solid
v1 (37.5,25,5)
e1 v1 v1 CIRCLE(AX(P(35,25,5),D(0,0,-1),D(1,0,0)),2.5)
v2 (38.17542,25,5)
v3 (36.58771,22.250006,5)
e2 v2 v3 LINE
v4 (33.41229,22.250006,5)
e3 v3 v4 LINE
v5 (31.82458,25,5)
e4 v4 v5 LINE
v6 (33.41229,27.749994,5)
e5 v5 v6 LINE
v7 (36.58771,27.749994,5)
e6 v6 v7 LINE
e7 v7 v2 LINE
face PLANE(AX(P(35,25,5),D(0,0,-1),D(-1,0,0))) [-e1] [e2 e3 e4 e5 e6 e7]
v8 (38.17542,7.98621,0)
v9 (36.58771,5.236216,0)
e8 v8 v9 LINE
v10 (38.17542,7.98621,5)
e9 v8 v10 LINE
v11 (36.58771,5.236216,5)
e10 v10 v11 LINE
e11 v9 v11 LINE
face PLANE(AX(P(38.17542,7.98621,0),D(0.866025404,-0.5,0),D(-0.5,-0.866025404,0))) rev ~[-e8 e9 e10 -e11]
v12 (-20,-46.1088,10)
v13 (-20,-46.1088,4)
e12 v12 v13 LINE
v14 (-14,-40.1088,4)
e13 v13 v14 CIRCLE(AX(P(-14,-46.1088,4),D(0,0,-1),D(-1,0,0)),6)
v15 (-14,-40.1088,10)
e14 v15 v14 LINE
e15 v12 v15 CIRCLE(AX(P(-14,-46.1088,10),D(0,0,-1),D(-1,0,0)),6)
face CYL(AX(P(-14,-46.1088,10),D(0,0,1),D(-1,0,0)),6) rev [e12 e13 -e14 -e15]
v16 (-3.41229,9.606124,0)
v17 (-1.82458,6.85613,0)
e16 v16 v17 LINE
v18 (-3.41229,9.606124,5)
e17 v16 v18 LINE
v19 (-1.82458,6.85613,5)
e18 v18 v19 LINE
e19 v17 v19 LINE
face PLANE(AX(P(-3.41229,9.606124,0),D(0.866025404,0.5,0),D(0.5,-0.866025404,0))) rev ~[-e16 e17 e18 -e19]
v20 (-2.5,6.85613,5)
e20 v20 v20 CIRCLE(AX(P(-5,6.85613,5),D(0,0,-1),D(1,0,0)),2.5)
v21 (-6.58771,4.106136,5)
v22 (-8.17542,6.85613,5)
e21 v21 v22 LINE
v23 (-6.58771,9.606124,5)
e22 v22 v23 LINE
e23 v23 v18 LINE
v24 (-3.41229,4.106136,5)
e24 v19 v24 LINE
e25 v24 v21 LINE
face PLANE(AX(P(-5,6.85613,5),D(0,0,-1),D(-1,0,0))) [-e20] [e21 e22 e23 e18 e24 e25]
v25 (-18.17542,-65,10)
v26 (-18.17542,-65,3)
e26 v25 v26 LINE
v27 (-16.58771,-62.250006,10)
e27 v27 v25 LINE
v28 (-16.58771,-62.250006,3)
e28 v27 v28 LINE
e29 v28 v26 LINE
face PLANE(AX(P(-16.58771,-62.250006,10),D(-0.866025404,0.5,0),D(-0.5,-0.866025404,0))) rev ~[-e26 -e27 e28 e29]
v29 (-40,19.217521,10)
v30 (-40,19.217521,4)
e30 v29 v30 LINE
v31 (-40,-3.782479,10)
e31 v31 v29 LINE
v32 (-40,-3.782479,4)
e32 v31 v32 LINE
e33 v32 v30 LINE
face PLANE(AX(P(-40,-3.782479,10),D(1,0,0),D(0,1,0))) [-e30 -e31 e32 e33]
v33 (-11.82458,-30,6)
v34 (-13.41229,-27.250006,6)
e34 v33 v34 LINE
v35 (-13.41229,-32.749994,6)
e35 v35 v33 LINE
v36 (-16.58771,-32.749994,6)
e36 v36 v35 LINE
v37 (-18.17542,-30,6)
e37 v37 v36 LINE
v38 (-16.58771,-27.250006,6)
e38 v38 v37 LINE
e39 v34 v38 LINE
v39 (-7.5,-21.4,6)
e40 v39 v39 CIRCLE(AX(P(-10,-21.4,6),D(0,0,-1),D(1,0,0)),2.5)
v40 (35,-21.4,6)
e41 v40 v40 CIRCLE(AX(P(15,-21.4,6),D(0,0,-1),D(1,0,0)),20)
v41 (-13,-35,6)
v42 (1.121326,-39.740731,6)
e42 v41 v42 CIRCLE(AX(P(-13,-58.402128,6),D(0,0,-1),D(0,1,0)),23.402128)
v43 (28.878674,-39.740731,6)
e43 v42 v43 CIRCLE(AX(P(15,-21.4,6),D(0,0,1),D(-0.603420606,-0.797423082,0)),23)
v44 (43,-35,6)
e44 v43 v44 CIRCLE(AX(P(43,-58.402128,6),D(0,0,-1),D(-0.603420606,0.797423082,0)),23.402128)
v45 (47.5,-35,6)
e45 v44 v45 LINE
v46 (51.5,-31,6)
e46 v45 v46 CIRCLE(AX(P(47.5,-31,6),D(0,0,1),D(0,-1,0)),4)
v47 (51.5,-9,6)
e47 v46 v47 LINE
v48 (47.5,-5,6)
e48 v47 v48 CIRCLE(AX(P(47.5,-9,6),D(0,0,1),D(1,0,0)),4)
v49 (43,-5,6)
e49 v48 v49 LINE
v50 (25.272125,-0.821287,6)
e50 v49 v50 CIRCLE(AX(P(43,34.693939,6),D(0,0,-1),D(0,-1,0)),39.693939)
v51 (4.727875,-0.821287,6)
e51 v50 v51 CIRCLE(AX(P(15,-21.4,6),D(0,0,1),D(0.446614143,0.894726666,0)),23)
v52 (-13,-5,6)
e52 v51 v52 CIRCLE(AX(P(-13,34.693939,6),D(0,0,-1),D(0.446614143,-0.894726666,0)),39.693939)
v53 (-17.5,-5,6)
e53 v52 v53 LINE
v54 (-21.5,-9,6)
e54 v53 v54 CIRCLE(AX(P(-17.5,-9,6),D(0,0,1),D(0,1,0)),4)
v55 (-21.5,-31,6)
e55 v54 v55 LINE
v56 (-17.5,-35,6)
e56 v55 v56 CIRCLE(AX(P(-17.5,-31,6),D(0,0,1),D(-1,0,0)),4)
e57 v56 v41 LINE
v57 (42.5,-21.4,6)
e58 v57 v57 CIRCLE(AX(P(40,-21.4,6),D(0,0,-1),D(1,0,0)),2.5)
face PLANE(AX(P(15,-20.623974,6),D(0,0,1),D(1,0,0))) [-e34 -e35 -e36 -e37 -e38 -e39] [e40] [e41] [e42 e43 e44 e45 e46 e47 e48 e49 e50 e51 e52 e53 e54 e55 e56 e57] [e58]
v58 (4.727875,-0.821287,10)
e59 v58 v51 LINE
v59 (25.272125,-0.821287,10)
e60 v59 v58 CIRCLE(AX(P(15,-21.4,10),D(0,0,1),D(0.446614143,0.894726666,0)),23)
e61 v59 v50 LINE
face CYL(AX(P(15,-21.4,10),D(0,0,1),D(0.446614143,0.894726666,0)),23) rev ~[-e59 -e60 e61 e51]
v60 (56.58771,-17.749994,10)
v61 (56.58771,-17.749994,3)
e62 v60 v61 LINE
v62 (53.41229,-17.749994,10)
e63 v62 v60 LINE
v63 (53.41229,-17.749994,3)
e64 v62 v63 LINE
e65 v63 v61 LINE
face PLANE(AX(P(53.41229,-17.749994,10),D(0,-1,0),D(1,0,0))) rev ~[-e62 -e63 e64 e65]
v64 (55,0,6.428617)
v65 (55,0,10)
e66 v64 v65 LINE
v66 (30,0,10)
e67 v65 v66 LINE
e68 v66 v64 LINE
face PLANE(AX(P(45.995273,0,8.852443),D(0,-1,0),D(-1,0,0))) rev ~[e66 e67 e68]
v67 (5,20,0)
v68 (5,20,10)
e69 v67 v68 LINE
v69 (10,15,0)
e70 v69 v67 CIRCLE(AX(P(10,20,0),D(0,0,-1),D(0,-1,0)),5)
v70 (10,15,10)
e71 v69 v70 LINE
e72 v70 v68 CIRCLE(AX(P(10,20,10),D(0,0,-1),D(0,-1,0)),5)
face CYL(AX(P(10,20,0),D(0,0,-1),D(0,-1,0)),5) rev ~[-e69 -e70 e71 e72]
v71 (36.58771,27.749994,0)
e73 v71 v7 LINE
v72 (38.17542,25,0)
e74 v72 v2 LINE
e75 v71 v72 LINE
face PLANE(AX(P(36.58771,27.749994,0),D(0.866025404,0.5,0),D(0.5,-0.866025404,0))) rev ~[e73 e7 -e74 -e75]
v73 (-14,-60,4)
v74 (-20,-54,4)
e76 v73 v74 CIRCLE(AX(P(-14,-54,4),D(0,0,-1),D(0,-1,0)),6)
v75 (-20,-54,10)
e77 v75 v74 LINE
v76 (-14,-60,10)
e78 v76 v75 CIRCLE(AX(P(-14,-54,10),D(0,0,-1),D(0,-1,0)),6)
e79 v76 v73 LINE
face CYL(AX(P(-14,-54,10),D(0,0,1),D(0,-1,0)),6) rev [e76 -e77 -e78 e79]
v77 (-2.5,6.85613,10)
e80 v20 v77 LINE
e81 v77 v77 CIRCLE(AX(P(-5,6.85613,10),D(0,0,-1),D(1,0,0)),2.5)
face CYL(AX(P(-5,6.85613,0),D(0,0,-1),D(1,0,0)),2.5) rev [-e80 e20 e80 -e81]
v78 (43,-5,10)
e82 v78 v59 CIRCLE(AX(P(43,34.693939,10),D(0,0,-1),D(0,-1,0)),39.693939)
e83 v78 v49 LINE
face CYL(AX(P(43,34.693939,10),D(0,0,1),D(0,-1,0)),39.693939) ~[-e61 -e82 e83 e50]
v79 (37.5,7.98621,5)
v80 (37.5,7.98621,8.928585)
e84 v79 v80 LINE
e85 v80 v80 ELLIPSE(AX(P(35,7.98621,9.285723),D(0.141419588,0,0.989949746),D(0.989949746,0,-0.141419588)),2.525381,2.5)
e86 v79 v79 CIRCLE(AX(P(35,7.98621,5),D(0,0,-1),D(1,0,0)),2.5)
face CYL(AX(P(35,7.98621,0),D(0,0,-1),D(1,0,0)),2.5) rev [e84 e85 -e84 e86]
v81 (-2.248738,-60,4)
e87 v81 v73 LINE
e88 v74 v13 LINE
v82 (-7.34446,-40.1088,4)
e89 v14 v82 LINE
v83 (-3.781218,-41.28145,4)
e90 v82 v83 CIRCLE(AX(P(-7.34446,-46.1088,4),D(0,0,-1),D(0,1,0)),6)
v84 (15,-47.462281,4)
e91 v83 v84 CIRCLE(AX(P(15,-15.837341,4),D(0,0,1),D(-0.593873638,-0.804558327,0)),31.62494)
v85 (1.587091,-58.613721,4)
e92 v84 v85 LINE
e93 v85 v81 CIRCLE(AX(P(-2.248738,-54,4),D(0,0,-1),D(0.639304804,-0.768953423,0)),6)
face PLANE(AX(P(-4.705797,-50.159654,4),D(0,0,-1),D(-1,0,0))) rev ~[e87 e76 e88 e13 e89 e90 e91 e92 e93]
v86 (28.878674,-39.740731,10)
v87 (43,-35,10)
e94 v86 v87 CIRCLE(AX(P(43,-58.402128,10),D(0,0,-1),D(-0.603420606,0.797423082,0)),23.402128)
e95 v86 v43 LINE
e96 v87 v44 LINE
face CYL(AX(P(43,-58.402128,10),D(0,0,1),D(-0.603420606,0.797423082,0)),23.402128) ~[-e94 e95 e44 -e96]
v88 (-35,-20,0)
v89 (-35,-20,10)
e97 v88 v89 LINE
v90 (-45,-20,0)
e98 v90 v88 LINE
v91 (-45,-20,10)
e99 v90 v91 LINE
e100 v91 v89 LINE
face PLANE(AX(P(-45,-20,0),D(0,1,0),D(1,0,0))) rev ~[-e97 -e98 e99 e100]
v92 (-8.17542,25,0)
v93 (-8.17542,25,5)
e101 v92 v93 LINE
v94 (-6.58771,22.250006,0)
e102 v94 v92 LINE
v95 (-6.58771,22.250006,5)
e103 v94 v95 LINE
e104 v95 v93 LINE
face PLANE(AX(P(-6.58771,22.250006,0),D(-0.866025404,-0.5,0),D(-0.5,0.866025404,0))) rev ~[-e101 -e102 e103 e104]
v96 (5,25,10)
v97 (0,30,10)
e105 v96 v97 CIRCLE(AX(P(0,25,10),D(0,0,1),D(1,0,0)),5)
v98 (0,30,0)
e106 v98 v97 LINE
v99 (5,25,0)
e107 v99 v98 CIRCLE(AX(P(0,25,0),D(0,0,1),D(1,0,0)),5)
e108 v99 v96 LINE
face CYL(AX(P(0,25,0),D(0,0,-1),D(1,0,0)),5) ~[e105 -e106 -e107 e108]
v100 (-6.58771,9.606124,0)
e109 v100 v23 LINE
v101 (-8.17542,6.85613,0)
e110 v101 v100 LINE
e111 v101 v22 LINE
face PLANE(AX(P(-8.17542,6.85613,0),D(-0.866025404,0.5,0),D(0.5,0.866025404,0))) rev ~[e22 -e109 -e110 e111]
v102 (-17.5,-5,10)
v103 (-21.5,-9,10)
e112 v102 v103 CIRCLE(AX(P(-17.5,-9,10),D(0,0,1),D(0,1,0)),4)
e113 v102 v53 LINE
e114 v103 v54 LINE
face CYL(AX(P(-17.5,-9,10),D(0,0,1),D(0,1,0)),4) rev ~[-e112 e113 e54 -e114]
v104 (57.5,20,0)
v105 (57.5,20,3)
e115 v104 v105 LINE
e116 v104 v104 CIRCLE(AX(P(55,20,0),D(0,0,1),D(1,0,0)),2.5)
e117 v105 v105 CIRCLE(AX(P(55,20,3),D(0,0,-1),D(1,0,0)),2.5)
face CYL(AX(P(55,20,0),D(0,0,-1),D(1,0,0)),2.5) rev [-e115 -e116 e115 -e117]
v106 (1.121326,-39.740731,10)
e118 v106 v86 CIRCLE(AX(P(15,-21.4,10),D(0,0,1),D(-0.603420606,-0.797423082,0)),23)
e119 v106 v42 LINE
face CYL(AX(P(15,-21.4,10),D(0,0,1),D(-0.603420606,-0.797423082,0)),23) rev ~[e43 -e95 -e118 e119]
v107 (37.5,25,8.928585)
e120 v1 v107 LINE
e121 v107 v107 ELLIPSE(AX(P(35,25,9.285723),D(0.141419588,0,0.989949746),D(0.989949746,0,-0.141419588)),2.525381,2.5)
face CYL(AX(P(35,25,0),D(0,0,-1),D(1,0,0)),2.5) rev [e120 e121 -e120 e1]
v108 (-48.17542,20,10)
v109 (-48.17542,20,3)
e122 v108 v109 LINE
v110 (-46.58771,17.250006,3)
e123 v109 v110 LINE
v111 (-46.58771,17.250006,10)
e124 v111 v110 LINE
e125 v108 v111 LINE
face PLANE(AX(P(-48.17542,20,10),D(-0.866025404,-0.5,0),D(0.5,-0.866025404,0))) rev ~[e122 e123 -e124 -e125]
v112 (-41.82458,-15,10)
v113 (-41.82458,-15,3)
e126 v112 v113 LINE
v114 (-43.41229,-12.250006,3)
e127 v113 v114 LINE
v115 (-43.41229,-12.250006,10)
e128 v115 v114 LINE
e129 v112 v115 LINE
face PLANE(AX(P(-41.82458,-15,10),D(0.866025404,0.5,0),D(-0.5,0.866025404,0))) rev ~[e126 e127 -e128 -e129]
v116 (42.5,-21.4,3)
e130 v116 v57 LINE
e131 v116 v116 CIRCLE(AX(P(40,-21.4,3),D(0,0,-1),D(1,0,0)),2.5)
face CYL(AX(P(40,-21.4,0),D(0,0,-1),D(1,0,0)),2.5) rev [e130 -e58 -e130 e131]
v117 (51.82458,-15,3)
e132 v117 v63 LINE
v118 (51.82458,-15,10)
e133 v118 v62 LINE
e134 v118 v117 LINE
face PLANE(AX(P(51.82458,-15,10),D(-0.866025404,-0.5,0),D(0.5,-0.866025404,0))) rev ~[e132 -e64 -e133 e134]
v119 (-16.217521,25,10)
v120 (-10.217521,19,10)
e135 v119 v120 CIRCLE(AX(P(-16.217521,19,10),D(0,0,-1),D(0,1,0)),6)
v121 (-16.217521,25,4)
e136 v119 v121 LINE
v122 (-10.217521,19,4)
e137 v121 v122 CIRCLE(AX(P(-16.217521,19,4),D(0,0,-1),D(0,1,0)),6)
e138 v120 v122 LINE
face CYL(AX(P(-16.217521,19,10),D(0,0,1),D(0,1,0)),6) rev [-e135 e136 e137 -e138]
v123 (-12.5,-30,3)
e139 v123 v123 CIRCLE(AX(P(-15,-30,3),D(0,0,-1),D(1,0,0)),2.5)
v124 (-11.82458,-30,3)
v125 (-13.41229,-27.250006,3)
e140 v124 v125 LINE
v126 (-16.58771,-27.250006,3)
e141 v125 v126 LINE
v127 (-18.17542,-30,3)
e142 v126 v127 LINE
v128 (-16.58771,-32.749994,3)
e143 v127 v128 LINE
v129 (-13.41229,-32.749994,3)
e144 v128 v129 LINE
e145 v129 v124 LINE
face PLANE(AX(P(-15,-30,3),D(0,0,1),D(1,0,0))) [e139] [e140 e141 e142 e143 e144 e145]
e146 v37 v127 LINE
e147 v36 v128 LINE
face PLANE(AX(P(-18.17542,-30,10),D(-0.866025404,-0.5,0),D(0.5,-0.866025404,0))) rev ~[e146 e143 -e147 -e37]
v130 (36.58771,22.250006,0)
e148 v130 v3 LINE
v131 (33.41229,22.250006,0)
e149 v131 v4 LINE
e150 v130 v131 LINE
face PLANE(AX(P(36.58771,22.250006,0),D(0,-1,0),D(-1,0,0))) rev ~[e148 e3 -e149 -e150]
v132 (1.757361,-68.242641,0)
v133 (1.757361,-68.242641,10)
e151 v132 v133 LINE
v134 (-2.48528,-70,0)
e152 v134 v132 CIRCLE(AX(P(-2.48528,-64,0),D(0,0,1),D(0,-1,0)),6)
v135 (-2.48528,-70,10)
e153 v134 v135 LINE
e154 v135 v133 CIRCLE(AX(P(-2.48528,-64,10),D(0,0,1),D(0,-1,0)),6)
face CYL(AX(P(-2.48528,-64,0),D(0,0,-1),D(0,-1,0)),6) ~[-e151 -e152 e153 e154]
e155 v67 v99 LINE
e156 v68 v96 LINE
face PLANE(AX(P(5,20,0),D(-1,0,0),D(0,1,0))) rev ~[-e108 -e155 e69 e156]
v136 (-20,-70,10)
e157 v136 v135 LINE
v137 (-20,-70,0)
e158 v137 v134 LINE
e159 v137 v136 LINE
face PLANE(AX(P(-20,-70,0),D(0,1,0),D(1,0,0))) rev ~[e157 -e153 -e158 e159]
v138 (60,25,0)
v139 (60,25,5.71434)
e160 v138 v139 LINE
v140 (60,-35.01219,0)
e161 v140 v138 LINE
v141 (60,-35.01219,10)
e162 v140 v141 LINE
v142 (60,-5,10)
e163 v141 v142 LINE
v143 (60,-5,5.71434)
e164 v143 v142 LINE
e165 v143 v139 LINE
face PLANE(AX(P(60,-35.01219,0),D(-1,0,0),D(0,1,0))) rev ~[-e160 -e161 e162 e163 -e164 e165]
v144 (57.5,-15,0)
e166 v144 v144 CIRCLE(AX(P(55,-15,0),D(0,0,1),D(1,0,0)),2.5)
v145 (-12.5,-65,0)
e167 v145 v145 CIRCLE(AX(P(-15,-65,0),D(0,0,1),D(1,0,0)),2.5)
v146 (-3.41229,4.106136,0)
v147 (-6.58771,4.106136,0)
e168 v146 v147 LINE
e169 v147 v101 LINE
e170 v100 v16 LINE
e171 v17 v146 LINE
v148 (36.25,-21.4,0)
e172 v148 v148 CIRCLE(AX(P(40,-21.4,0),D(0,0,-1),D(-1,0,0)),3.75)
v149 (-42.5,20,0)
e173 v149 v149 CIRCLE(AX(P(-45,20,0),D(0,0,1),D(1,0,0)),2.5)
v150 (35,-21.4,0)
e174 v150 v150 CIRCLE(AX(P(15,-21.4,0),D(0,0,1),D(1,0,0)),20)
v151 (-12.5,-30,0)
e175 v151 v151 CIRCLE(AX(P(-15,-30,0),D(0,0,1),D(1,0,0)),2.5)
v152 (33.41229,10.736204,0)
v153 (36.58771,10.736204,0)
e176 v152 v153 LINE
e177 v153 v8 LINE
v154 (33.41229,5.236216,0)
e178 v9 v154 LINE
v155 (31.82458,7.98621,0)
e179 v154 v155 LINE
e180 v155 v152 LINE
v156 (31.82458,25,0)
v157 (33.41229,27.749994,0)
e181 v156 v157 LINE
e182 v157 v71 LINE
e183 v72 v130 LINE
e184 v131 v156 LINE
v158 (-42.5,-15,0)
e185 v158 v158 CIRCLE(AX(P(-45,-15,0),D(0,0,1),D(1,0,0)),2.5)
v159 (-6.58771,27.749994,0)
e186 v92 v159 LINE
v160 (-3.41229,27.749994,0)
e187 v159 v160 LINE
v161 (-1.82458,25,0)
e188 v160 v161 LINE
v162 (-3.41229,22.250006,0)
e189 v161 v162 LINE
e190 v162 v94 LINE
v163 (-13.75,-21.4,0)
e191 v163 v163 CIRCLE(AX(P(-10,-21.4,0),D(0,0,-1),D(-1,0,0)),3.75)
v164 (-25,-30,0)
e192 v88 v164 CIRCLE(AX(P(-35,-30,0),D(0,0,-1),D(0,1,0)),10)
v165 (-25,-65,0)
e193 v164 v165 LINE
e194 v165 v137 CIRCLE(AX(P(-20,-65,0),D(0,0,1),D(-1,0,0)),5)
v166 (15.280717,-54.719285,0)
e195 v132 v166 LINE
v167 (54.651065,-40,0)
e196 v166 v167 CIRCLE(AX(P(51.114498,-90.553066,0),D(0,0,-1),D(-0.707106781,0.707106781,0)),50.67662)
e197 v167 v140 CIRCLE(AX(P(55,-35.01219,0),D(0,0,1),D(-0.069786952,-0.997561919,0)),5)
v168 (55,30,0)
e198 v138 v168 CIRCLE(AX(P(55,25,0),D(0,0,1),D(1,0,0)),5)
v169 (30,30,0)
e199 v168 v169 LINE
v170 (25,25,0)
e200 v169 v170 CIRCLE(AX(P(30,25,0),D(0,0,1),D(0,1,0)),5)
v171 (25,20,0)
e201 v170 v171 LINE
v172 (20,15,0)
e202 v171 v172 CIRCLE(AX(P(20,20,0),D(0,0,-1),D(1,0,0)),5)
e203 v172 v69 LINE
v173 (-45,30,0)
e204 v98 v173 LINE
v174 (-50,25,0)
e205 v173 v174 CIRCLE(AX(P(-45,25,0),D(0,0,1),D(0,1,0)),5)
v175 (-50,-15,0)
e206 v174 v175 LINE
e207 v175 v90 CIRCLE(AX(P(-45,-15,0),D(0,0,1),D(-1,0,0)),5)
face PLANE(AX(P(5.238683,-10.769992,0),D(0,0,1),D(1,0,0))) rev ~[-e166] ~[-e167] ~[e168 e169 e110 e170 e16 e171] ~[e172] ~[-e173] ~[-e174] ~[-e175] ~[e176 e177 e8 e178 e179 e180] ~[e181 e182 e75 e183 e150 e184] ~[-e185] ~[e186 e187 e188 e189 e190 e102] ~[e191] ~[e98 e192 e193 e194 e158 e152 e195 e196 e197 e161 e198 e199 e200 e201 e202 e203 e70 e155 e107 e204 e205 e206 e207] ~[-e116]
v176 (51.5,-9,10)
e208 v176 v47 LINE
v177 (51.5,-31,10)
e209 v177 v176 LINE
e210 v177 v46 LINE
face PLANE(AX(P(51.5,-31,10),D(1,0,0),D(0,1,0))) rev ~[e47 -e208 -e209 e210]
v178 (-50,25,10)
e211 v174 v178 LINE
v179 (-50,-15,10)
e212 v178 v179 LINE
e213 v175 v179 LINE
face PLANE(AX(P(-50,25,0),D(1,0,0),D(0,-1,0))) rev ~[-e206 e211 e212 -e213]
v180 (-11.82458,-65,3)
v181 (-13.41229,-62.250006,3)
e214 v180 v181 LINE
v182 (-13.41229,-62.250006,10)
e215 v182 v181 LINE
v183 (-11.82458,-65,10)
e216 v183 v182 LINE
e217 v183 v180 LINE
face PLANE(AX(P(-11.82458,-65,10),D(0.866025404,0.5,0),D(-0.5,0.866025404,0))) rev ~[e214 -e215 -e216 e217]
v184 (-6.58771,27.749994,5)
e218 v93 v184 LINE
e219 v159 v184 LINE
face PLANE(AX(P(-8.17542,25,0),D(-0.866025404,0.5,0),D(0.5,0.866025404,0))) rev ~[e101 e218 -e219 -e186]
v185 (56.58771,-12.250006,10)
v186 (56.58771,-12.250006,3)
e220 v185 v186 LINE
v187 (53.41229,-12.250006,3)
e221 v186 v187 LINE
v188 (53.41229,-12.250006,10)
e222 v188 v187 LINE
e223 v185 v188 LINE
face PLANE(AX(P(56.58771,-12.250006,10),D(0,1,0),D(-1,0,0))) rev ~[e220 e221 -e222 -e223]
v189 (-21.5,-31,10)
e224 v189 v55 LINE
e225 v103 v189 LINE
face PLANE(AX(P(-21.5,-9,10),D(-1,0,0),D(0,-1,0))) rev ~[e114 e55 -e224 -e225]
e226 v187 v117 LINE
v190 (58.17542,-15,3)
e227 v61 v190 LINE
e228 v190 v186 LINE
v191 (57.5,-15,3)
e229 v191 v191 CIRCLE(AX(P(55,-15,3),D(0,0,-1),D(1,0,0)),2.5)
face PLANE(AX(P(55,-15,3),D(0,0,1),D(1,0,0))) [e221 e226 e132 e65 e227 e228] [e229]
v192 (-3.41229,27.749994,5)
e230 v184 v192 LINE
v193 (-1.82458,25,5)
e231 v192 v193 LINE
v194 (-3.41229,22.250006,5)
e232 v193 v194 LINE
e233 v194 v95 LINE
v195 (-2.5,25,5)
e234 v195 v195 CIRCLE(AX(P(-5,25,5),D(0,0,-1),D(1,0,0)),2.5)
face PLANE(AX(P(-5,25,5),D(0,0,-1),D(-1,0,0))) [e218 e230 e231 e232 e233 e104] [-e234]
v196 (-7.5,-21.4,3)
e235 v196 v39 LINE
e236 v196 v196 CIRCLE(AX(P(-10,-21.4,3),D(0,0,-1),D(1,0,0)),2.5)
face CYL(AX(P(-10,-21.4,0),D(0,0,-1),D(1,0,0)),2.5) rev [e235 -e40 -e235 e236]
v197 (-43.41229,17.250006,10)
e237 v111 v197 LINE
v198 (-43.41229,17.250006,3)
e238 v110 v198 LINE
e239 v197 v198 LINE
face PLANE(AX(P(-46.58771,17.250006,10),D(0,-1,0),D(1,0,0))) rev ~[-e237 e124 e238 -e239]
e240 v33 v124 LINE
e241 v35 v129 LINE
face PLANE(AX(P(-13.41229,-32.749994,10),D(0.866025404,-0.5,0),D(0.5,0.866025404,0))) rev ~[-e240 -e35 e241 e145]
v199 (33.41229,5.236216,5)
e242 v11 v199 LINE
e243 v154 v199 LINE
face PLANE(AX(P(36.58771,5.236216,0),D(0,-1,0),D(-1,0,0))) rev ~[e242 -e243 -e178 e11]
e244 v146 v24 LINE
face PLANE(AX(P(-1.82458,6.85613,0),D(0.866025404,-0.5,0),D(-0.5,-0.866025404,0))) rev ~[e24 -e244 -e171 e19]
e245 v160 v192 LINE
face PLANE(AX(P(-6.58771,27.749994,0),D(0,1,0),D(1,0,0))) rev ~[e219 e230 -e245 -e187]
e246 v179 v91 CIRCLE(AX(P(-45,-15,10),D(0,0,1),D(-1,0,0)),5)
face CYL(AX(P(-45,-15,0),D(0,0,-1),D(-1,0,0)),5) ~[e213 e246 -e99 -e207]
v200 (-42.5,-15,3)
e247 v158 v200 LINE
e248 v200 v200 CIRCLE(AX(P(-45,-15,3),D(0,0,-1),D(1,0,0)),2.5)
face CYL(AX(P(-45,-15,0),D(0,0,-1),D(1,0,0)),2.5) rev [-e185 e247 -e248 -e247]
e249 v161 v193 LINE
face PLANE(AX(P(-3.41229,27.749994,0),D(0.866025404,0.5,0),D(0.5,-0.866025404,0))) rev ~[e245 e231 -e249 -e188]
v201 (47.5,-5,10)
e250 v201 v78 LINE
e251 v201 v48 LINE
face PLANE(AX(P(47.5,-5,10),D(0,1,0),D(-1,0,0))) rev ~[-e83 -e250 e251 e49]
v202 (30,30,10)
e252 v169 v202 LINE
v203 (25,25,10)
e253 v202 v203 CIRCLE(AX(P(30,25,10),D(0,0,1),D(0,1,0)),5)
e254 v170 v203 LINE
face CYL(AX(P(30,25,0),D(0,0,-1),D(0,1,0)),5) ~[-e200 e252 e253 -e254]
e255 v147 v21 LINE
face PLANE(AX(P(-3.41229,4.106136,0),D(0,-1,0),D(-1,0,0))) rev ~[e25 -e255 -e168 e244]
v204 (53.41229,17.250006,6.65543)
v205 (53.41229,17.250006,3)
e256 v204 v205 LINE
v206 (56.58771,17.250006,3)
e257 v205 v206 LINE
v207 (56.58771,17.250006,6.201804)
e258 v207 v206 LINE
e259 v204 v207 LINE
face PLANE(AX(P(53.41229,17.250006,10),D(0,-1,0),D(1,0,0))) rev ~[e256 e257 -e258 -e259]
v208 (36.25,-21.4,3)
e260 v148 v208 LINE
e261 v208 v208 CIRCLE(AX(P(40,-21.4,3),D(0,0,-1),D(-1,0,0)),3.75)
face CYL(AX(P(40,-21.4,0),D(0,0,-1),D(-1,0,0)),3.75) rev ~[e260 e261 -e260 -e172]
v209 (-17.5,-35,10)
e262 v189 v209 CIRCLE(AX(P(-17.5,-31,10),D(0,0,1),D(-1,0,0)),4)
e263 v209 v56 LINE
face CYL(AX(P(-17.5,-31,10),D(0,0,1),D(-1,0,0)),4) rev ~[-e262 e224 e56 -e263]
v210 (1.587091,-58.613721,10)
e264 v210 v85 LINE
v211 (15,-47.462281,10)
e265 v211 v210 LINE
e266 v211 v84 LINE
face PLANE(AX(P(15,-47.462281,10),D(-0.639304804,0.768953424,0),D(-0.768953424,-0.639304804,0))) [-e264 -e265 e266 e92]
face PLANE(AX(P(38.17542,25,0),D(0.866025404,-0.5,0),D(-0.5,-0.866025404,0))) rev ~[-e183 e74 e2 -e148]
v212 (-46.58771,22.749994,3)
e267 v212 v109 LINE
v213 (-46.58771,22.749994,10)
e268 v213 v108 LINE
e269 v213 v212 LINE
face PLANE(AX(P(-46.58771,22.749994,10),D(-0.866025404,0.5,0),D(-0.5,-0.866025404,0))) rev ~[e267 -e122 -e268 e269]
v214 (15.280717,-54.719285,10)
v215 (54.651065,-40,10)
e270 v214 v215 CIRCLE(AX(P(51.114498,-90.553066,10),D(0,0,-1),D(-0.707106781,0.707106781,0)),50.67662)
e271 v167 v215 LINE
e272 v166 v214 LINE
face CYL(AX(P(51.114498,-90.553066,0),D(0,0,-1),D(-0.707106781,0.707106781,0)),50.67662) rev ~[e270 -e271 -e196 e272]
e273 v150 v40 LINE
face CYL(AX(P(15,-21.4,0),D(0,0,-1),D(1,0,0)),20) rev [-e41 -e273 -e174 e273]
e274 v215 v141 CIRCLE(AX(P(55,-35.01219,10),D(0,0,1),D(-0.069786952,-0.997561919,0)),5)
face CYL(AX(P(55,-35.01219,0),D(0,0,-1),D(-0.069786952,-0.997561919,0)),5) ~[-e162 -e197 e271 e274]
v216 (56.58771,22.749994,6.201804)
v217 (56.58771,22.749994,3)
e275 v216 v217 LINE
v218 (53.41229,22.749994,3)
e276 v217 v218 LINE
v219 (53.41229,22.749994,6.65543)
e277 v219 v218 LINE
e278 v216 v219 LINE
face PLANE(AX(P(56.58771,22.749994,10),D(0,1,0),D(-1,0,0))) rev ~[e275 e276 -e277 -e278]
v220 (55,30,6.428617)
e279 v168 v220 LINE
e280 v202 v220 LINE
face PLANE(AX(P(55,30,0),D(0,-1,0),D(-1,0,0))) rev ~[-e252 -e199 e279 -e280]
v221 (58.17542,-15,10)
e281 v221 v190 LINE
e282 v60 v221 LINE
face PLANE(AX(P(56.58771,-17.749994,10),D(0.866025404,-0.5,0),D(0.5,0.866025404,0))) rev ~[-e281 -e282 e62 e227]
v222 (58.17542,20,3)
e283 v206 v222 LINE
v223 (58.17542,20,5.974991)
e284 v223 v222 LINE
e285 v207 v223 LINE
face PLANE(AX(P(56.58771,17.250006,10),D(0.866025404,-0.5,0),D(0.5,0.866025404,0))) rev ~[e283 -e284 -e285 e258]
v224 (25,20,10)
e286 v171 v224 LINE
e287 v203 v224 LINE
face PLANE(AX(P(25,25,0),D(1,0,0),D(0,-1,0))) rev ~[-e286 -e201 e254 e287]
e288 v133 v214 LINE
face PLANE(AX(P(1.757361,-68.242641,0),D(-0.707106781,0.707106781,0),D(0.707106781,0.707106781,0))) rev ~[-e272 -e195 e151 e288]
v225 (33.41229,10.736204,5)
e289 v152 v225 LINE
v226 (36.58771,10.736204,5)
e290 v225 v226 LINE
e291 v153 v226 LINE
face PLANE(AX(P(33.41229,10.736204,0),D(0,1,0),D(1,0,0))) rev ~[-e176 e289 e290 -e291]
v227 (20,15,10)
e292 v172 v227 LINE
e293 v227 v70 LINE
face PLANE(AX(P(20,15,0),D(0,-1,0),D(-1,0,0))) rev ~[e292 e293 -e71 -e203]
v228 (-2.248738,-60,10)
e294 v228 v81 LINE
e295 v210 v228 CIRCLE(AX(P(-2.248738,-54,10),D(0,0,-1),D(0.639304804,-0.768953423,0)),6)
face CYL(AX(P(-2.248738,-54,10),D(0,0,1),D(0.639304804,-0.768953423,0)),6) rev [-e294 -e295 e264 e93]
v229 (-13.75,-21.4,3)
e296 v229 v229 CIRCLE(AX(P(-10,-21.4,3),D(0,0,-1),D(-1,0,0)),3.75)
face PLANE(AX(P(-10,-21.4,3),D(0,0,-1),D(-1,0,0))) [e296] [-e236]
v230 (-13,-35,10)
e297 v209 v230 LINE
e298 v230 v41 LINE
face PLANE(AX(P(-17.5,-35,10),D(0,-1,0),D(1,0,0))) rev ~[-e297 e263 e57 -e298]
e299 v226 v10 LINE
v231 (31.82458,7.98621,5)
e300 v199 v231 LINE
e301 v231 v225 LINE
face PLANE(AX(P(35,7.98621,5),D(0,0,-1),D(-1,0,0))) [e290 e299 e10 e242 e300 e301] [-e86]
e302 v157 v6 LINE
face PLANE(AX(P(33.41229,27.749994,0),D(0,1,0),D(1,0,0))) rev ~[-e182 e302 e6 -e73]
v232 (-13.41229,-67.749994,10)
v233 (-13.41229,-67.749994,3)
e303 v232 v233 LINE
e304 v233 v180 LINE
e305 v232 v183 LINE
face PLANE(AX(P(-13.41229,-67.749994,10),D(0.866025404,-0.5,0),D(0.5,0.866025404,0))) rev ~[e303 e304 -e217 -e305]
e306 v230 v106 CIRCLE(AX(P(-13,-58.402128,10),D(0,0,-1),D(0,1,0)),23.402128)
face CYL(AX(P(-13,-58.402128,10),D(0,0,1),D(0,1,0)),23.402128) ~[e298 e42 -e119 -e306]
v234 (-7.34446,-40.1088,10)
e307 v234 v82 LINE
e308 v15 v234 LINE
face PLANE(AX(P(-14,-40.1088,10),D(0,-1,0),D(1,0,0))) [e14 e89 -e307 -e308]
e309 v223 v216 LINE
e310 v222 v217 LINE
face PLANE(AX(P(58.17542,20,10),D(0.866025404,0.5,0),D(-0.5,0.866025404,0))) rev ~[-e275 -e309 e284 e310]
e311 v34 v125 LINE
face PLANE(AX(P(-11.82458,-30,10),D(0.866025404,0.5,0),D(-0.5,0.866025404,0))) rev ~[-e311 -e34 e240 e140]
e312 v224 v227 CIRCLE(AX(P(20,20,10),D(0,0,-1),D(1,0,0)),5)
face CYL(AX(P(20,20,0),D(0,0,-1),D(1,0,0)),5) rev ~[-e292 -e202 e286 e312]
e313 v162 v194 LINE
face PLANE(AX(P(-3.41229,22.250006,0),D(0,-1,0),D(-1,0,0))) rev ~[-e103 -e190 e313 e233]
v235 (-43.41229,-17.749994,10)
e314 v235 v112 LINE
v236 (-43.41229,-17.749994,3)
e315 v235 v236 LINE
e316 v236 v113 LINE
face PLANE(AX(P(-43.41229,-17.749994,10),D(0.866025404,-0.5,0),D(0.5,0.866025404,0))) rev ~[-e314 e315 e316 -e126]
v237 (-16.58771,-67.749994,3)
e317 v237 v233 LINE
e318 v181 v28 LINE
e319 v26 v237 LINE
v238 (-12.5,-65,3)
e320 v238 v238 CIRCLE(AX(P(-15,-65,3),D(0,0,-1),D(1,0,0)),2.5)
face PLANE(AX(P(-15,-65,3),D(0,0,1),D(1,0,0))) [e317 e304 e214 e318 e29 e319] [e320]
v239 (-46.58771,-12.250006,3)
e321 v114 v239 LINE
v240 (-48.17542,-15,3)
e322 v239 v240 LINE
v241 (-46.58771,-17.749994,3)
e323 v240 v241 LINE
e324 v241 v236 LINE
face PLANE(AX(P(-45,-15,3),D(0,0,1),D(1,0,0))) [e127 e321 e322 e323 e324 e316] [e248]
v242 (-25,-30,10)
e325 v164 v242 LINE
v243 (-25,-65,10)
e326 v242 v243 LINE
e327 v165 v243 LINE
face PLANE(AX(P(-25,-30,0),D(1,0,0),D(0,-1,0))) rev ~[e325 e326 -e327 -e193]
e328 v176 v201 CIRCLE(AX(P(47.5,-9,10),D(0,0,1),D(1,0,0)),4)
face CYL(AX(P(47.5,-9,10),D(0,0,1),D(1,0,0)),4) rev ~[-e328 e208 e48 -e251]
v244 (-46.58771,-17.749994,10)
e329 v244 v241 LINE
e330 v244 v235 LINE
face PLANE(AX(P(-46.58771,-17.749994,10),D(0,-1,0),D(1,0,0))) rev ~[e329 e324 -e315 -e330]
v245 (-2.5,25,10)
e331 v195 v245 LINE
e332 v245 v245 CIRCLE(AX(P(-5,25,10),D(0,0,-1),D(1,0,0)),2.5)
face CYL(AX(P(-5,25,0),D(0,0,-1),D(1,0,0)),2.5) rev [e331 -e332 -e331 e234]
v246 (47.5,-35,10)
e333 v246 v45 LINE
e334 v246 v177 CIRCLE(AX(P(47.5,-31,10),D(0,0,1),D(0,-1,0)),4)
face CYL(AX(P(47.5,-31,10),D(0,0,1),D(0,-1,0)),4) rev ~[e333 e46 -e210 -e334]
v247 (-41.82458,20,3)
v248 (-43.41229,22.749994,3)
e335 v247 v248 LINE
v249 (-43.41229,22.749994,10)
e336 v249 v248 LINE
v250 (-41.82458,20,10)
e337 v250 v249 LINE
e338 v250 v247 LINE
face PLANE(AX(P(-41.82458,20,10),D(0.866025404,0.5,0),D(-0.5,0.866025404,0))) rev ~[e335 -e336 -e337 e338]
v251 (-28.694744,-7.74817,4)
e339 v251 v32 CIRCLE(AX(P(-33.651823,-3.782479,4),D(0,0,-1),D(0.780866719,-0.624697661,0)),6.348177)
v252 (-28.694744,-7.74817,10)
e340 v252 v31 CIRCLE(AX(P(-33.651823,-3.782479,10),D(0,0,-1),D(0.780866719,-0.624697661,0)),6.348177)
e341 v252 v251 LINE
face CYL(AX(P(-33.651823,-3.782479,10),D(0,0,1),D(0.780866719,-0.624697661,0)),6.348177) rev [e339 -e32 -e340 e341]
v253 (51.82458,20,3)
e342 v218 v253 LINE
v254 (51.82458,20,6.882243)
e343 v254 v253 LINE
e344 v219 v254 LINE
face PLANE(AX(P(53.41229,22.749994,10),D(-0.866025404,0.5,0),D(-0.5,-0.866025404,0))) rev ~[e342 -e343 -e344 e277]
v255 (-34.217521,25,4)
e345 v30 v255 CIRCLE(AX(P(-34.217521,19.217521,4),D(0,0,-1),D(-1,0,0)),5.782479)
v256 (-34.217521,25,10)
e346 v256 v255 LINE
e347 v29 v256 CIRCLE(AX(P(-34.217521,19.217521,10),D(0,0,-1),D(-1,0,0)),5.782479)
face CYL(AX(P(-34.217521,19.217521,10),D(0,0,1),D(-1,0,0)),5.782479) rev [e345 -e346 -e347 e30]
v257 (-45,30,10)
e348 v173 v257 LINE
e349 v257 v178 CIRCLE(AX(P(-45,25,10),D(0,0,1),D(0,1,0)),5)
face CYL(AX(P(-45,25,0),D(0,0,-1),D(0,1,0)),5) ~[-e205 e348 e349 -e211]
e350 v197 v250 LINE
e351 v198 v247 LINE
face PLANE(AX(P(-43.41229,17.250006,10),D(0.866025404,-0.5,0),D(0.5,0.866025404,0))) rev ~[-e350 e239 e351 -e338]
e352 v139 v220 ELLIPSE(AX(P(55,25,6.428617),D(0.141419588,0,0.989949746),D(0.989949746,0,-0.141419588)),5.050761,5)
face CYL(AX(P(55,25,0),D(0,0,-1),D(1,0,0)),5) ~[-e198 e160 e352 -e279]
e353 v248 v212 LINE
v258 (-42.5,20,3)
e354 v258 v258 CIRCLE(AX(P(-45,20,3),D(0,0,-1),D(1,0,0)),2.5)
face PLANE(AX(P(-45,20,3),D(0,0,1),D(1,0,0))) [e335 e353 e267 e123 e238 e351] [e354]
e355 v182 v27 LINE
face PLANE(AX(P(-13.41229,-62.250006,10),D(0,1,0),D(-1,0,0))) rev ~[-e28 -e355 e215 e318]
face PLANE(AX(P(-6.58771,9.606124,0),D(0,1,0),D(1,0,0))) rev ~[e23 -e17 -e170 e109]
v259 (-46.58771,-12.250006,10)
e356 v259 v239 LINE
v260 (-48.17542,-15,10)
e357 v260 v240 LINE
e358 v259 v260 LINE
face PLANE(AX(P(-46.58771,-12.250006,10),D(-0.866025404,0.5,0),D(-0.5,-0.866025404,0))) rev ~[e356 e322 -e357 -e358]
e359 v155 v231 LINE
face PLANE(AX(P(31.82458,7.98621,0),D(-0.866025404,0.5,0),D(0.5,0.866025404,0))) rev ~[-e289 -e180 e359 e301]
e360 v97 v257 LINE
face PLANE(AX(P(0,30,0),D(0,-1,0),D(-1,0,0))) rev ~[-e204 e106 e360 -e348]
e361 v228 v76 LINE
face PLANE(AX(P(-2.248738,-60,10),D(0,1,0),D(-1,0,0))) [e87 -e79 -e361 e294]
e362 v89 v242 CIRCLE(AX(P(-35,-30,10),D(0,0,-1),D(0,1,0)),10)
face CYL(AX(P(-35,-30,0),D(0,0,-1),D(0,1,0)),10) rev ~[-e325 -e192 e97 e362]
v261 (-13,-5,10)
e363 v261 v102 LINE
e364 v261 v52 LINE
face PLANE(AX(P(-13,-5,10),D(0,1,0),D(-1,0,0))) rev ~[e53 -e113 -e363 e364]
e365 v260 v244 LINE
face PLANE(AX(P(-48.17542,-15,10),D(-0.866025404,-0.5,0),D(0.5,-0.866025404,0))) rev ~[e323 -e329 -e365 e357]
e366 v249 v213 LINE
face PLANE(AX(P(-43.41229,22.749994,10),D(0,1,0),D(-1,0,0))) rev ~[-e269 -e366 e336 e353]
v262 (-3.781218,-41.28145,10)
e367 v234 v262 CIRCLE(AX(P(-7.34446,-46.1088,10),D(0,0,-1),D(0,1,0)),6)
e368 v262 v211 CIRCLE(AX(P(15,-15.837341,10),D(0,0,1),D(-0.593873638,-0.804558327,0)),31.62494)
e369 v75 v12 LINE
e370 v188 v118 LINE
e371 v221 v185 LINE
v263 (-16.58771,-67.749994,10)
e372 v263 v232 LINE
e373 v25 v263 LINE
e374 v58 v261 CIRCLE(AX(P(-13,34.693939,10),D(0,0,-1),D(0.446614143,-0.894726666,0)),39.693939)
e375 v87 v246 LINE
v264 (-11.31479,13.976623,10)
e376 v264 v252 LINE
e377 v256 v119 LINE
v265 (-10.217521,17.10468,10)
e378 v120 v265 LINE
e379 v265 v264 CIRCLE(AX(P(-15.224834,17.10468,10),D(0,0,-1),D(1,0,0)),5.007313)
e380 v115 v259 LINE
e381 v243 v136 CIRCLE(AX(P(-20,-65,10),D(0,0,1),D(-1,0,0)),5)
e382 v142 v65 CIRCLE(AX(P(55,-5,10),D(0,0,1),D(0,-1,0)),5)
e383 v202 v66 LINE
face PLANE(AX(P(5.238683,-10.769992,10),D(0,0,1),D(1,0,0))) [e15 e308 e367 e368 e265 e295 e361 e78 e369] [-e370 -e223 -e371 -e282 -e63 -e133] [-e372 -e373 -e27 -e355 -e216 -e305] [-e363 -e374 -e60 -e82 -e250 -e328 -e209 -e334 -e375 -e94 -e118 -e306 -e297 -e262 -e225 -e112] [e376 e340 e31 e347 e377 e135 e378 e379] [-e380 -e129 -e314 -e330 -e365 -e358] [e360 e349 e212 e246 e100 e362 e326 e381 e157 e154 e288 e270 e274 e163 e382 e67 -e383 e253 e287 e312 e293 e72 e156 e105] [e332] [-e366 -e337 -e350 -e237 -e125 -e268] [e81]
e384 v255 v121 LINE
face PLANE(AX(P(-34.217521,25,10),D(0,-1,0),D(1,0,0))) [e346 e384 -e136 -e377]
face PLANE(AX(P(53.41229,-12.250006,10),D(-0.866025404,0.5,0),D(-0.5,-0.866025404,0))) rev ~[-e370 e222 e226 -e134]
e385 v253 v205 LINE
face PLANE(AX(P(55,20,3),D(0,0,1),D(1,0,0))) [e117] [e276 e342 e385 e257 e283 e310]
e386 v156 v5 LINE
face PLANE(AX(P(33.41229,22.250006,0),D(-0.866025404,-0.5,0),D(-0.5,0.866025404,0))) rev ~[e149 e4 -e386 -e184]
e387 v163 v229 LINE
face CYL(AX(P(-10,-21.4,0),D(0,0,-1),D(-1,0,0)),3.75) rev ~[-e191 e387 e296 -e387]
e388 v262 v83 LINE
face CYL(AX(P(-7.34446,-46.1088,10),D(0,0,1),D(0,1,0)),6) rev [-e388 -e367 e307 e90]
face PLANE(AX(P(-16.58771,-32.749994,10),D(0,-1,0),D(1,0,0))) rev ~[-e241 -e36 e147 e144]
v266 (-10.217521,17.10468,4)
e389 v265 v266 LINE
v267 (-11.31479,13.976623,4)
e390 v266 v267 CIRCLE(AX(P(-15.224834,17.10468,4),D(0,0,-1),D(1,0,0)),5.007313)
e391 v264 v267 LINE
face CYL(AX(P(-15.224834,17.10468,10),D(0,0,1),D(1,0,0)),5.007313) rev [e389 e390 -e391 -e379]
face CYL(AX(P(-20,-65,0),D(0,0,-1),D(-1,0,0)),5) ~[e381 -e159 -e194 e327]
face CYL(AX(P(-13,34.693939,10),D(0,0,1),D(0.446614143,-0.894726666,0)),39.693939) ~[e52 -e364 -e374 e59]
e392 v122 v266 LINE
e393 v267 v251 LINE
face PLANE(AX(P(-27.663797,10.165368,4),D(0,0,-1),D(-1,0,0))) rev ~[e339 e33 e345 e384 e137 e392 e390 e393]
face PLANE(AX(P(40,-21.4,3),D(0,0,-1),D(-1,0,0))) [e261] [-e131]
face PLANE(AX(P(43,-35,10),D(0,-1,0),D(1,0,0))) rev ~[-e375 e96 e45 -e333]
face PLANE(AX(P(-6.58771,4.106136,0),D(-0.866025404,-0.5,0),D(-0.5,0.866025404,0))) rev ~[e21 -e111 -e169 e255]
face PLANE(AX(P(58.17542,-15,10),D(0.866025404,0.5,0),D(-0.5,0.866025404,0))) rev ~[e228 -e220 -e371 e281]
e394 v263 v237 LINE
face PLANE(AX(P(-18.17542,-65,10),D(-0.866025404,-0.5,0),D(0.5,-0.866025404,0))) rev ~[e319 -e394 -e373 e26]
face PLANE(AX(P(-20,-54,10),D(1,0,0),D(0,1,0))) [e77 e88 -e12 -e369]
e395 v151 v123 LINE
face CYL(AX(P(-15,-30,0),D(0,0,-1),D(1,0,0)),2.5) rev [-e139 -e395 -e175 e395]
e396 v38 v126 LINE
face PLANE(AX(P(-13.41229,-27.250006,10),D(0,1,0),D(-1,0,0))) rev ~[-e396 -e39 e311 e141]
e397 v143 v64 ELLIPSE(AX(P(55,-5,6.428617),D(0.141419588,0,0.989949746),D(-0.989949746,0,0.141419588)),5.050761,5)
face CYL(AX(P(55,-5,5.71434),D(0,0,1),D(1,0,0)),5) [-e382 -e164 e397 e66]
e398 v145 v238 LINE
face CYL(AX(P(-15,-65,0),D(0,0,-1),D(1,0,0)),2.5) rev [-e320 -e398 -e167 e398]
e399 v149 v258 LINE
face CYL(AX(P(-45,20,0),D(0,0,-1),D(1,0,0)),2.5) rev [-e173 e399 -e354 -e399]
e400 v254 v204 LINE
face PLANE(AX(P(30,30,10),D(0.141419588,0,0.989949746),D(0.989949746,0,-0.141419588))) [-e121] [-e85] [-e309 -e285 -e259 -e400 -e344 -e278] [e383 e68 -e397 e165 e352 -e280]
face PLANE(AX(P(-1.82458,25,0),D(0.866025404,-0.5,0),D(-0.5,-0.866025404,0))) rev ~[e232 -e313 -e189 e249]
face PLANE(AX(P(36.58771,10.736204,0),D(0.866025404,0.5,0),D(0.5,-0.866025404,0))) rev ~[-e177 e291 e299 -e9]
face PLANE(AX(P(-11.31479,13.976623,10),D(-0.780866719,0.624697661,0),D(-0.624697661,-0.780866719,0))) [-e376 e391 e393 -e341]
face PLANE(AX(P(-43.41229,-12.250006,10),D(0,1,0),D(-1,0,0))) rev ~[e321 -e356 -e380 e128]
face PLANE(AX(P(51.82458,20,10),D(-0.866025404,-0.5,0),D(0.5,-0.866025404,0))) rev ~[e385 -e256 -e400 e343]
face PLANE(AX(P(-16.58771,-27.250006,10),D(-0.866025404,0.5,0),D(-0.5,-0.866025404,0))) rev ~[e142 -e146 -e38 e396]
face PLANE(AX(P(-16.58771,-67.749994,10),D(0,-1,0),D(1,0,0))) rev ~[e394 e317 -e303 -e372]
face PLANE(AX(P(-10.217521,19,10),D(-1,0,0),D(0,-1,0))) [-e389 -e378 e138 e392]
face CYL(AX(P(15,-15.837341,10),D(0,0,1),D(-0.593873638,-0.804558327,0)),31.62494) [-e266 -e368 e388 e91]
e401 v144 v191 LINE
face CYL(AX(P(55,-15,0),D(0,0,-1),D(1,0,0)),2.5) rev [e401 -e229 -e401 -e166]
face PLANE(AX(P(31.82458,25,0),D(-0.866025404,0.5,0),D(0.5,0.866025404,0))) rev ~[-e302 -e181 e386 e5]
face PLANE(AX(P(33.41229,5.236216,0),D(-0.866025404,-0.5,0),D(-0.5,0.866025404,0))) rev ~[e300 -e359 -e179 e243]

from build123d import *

# Parameters (mm, degrees)
FIGURE_EXTRUDE_DEPTH      = 10
SKETCH2_R                 = 20
SKETCH2_R_2               = 2.5
ALL_5MM_HOLES_DEPTH       = 93.736184955
ANGLED_PLANE_CUT_DEPTH    = 30
ANGLED_PLANE_FILLET_R     = 5
TRIANGULAR_CUT_DEPTH      = 6
MIDDLE_CIRCULAR_CUT_DEPTH = 4
CUT_EXTRUDE12_DEPTH       = 6
SKETCH7_R                 = 3.75
CUT_EXTRUDE13_DEPTH       = 3
CUT_EXTRUDE14_DEPTH       = 5
CUT_EXTRUDE15_DEPTH       = 7
CUT_EXTRUDE17_DEPTH       = 7


with BuildPart() as part:
    # Sketch1 → Figure Extrude (new body)
    with BuildSketch(Plane.XY):
        with BuildLine():
            Line((0, 30), (-45, 30))
            ThreePointArc((-45, 30), (-48.535533906, 28.535533906), (-50, 25))
            Line((-50, 25), (-50, -15))
            ThreePointArc((-50, -15), (-48.535533906, -18.535533906), (-45, -20))
            Line((-45, -20), (-35, -20))
            ThreePointArc((-35, -20), (-27.928932188, -22.928932188), (-25, -30))
            Line((-25, -30), (-25, -65))
            ThreePointArc((-25, -65), (-23.535533906, -68.535533906), (-20, -70))
            Line((-20, -70), (-2.48528, -70))
            ThreePointArc((-2.48528, -70), (-0.189179406, -69.543277195), (1.757360687, -68.242640687))
            Line((1.757360687, -68.242640687), (15.280716751, -54.719284623))
            ThreePointArc((15.280716751, -54.719284623), (33.367897146, -43.085414566), (54.651065241, -40))
            ThreePointArc((54.651065241, -40), (58.409935938, -38.669011007), (60, -35.012190407))
            Line((60, -35.012190407), (60, 25))
            ThreePointArc((60, 25), (58.535533906, 28.535533906), (55, 30))
            Line((55, 30), (30, 30))
            ThreePointArc((30, 30), (26.464466094, 28.535533906), (25, 25))
            Line((25, 25), (25, 20))
            ThreePointArc((25, 20), (23.535533906, 16.464466094), (20, 15))
            Line((20, 15), (10, 15))
            ThreePointArc((10, 15), (6.464466094, 16.464466094), (5, 20))
            Line((5, 20), (5, 25))
            ThreePointArc((5, 25), (3.535533906, 28.535533906), (0, 30))
        make_face()
    extrude(amount=FIGURE_EXTRUDE_DEPTH)

    # Sketch2 → All 5mm Holes (cut, through all)
    with BuildSketch(Plane.XY):
        with Locations((15, -21.4)):
            Circle(SKETCH2_R)
        with Locations((55, 20)):
            Circle(SKETCH2_R_2)
        with Locations((55, -15)):
            Circle(SKETCH2_R_2)
        with Locations((-45, 20)):
            Circle(SKETCH2_R_2)
        with Locations((-45, -15)):
            Circle(SKETCH2_R_2)
        with Locations((35, 25)):
            Circle(SKETCH2_R_2)
        with Locations((35, 7.98621)):
            Circle(SKETCH2_R_2)
        with Locations((-5, 25)):
            Circle(SKETCH2_R_2)
        with Locations((-5, 6.85613)):
            Circle(SKETCH2_R_2)
        with Locations((-15, -30)):
            Circle(SKETCH2_R_2)
        with Locations((-15, -65)):
            Circle(SKETCH2_R_2)
        with Locations((-10, -21.4)):
            Circle(SKETCH2_R_2)
        with Locations((40, -21.4)):
            Circle(SKETCH2_R_2)
    extrude(amount=ALL_5MM_HOLES_DEPTH, mode=Mode.SUBTRACT)

    # Sketch3 → Angled Plane Cut (cut)
    with BuildSketch(Plane(origin=(0, 30, 0), x_dir=(1, 0, 0), z_dir=(0, 1, 0))):
        Polygon((30, -10), (60, -5.714340401), (60, -10), align=None)
    extrude(amount=-ANGLED_PLANE_CUT_DEPTH, mode=Mode.SUBTRACT)

    # Angled Plane Fillet
    angled_plane_fillet_edges = [part.edges().sort_by_distance(p)[0] for p in [
        (60, 0, 7.8571702),
    ]]
    fillet(angled_plane_fillet_edges, radius=ANGLED_PLANE_FILLET_R)

    # Sketch4 → Triangular cut (cut)
    with BuildSketch(Plane.XY.offset(10)):
        with BuildLine():
            Line((-34.217521015, 25), (-16.217521015, 25))
            ThreePointArc((-16.217521015, 25), (-11.974880328, 23.242640687), (-10.217521015, 19))
            Line((-10.217521015, 19), (-10.217521015, 17.10468))
            ThreePointArc((-10.217521015, 17.10468), (-10.499794454, 15.447216646), (-11.31479, 13.976623119))
            Line((-11.31479, 13.976623119), (-28.69474373, -7.74817))
            ThreePointArc((-28.69474373, -7.74817), (-35.753124005, -9.772794597), (-40, -3.782478985))
            Line((-40, -3.782478985), (-40, 19.217521015))
            ThreePointArc((-40, 19.217521015), (-38.306351117, 23.306351117), (-34.217521015, 25))
        make_face()
    extrude(amount=-TRIANGULAR_CUT_DEPTH, mode=Mode.SUBTRACT)

    # Sketch5 → Middle Circular Cut (cut)
    with BuildSketch(Plane.XY.offset(10)):
        with BuildLine():
            Line((-21.5, -9), (-21.5, -31))
            ThreePointArc((-21.5, -31), (-20.328427125, -33.828427125), (-17.5, -35))
            Line((-17.5, -35), (-13, -35))
            ThreePointArc((-13, -35), (-5.552074466, -36.216817559), (1.121326058, -39.740730891))
            ThreePointArc((1.121326058, -39.740730891), (15, -44.4), (28.878673942, -39.740730891))
            ThreePointArc((28.878673942, -39.740730891), (35.552074466, -36.216817559), (43, -35))
            Line((43, -35), (47.5, -35))
            ThreePointArc((47.5, -35), (50.328427125, -33.828427125), (51.5, -31))
            Line((51.5, -31), (51.5, -9))
            ThreePointArc((51.5, -9), (50.328427125, -6.171572875), (47.5, -5))
            Line((47.5, -5), (43, -5))
            ThreePointArc((43, -5), (33.893145617, -3.941200412), (25.272125284, -0.821286674))
            ThreePointArc((25.272125284, -0.821286674), (15, 1.6), (4.727874716, -0.821286674))
            ThreePointArc((4.727874716, -0.821286674), (-3.893145617, -3.941200412), (-13, -5))
            Line((-13, -5), (-17.5, -5))
            ThreePointArc((-17.5, -5), (-20.328427125, -6.171572875), (-21.5, -9))
        make_face()
    extrude(amount=-MIDDLE_CIRCULAR_CUT_DEPTH, mode=Mode.SUBTRACT)

    # Sketch6 → Cut-Extrude12 (cut)
    with BuildSketch(Plane.XY.offset(10)):
        with BuildLine():
            Line((-20, -54), (-20, -46.1088))
            ThreePointArc((-20, -46.1088), (-18.242640687, -41.866159313), (-14, -40.1088))
            Line((-14, -40.1088), (-7.34446, -40.1088))
            ThreePointArc((-7.34446, -40.1088), (-5.468840073, -40.409497421), (-3.781218172, -41.281450036))
            ThreePointArc((-3.781218172, -41.281450036), (5.113938727, -45.877358228), (15, -47.462281209))
            Line((15, -47.462281209), (1.587090544, -58.613720541))
            ThreePointArc((1.587090544, -58.613720541), (-0.209415261, -59.642797323), (-2.24873828, -60))
            Line((-2.24873828, -60), (-14, -60))
            ThreePointArc((-14, -60), (-18.242640687, -58.242640687), (-20, -54))
        make_face()
    extrude(amount=-CUT_EXTRUDE12_DEPTH, mode=Mode.SUBTRACT)

    # Sketch7 → Cut-Extrude13 (cut)
    with BuildSketch(Plane(origin=(0, 0, 0), x_dir=(-1, 0, 0), z_dir=(0, 0, -1))):
        with Locations((-40, -21.4)):
            Circle(SKETCH7_R)
        with Locations((10, -21.4)):
            Circle(SKETCH7_R)
    extrude(amount=-CUT_EXTRUDE13_DEPTH, mode=Mode.SUBTRACT)

    # Sketch8 → Cut-Extrude14 (cut)
    with BuildSketch(Plane(origin=(0, 0, 0), x_dir=(-1, 0, 0), z_dir=(0, 0, -1))):
        Polygon((-33.41229, 27.749994388), (-36.58771, 27.749994388), (-38.17542, 25), (-36.58771, 22.250005612), (-33.41229, 22.250005612), (-31.82458, 25), align=None)
        Polygon((-33.41229, 10.736204388), (-36.58771, 10.736204388), (-38.17542, 7.98621), (-36.58771, 5.236215612), (-33.41229, 5.236215612), (-31.82458, 7.98621), align=None)
        Polygon((3.41229, 9.606124388), (1.82458, 6.85613), (3.41229, 4.106135612), (6.58771, 4.106135612), (8.17542, 6.85613), (6.58771, 9.606124388), align=None)
        Polygon((3.41229, 27.749994388), (1.82458, 25), (3.41229, 22.250005612), (6.58771, 22.250005612), (8.17542, 25), (6.58771, 27.749994388), align=None)
    extrude(amount=-CUT_EXTRUDE14_DEPTH, mode=Mode.SUBTRACT)

    # Sketch9 → Cut-Extrude15 (cut)
    with BuildSketch(Plane.XY.offset(10)):
        Polygon((-43.41229, 22.749994388), (-46.58771, 22.749994388), (-48.17542, 20), (-46.58771, 17.250005612), (-43.41229, 17.250005612), (-41.82458, 20), align=None)
        Polygon((-41.82458, -15), (-43.41229, -12.250005612), (-46.58771, -12.250005612), (-48.17542, -15), (-46.58771, -17.749994388), (-43.41229, -17.749994388), align=None)
        Polygon((-11.82458, -65), (-13.41229, -62.250005612), (-16.58771, -62.250005612), (-18.17542, -65), (-16.58771, -67.749994388), (-13.41229, -67.749994388), align=None)
        Polygon((58.17542, -15), (56.58771, -12.250005612), (53.41229, -12.250005612), (51.82458, -15), (53.41229, -17.749994388), (56.58771, -17.749994388), align=None)
        Polygon((58.17542, 20), (56.58771, 22.749994388), (53.41229, 22.749994388), (51.82458, 20), (53.41229, 17.250005612), (56.58771, 17.250005612), align=None)
    extrude(amount=-CUT_EXTRUDE15_DEPTH, mode=Mode.SUBTRACT)

    # Sketch9<4> → Cut-Extrude17 (cut)
    with BuildSketch(Plane.XY.offset(10)):
        Polygon((-11.82458, -30), (-13.41229, -27.250005612), (-16.58771, -27.250005612), (-18.17542, -30), (-16.58771, -32.749994388), (-13.41229, -32.749994388), align=None)
    extrude(amount=-CUT_EXTRUDE17_DEPTH, mode=Mode.SUBTRACT)


solid = part.part
